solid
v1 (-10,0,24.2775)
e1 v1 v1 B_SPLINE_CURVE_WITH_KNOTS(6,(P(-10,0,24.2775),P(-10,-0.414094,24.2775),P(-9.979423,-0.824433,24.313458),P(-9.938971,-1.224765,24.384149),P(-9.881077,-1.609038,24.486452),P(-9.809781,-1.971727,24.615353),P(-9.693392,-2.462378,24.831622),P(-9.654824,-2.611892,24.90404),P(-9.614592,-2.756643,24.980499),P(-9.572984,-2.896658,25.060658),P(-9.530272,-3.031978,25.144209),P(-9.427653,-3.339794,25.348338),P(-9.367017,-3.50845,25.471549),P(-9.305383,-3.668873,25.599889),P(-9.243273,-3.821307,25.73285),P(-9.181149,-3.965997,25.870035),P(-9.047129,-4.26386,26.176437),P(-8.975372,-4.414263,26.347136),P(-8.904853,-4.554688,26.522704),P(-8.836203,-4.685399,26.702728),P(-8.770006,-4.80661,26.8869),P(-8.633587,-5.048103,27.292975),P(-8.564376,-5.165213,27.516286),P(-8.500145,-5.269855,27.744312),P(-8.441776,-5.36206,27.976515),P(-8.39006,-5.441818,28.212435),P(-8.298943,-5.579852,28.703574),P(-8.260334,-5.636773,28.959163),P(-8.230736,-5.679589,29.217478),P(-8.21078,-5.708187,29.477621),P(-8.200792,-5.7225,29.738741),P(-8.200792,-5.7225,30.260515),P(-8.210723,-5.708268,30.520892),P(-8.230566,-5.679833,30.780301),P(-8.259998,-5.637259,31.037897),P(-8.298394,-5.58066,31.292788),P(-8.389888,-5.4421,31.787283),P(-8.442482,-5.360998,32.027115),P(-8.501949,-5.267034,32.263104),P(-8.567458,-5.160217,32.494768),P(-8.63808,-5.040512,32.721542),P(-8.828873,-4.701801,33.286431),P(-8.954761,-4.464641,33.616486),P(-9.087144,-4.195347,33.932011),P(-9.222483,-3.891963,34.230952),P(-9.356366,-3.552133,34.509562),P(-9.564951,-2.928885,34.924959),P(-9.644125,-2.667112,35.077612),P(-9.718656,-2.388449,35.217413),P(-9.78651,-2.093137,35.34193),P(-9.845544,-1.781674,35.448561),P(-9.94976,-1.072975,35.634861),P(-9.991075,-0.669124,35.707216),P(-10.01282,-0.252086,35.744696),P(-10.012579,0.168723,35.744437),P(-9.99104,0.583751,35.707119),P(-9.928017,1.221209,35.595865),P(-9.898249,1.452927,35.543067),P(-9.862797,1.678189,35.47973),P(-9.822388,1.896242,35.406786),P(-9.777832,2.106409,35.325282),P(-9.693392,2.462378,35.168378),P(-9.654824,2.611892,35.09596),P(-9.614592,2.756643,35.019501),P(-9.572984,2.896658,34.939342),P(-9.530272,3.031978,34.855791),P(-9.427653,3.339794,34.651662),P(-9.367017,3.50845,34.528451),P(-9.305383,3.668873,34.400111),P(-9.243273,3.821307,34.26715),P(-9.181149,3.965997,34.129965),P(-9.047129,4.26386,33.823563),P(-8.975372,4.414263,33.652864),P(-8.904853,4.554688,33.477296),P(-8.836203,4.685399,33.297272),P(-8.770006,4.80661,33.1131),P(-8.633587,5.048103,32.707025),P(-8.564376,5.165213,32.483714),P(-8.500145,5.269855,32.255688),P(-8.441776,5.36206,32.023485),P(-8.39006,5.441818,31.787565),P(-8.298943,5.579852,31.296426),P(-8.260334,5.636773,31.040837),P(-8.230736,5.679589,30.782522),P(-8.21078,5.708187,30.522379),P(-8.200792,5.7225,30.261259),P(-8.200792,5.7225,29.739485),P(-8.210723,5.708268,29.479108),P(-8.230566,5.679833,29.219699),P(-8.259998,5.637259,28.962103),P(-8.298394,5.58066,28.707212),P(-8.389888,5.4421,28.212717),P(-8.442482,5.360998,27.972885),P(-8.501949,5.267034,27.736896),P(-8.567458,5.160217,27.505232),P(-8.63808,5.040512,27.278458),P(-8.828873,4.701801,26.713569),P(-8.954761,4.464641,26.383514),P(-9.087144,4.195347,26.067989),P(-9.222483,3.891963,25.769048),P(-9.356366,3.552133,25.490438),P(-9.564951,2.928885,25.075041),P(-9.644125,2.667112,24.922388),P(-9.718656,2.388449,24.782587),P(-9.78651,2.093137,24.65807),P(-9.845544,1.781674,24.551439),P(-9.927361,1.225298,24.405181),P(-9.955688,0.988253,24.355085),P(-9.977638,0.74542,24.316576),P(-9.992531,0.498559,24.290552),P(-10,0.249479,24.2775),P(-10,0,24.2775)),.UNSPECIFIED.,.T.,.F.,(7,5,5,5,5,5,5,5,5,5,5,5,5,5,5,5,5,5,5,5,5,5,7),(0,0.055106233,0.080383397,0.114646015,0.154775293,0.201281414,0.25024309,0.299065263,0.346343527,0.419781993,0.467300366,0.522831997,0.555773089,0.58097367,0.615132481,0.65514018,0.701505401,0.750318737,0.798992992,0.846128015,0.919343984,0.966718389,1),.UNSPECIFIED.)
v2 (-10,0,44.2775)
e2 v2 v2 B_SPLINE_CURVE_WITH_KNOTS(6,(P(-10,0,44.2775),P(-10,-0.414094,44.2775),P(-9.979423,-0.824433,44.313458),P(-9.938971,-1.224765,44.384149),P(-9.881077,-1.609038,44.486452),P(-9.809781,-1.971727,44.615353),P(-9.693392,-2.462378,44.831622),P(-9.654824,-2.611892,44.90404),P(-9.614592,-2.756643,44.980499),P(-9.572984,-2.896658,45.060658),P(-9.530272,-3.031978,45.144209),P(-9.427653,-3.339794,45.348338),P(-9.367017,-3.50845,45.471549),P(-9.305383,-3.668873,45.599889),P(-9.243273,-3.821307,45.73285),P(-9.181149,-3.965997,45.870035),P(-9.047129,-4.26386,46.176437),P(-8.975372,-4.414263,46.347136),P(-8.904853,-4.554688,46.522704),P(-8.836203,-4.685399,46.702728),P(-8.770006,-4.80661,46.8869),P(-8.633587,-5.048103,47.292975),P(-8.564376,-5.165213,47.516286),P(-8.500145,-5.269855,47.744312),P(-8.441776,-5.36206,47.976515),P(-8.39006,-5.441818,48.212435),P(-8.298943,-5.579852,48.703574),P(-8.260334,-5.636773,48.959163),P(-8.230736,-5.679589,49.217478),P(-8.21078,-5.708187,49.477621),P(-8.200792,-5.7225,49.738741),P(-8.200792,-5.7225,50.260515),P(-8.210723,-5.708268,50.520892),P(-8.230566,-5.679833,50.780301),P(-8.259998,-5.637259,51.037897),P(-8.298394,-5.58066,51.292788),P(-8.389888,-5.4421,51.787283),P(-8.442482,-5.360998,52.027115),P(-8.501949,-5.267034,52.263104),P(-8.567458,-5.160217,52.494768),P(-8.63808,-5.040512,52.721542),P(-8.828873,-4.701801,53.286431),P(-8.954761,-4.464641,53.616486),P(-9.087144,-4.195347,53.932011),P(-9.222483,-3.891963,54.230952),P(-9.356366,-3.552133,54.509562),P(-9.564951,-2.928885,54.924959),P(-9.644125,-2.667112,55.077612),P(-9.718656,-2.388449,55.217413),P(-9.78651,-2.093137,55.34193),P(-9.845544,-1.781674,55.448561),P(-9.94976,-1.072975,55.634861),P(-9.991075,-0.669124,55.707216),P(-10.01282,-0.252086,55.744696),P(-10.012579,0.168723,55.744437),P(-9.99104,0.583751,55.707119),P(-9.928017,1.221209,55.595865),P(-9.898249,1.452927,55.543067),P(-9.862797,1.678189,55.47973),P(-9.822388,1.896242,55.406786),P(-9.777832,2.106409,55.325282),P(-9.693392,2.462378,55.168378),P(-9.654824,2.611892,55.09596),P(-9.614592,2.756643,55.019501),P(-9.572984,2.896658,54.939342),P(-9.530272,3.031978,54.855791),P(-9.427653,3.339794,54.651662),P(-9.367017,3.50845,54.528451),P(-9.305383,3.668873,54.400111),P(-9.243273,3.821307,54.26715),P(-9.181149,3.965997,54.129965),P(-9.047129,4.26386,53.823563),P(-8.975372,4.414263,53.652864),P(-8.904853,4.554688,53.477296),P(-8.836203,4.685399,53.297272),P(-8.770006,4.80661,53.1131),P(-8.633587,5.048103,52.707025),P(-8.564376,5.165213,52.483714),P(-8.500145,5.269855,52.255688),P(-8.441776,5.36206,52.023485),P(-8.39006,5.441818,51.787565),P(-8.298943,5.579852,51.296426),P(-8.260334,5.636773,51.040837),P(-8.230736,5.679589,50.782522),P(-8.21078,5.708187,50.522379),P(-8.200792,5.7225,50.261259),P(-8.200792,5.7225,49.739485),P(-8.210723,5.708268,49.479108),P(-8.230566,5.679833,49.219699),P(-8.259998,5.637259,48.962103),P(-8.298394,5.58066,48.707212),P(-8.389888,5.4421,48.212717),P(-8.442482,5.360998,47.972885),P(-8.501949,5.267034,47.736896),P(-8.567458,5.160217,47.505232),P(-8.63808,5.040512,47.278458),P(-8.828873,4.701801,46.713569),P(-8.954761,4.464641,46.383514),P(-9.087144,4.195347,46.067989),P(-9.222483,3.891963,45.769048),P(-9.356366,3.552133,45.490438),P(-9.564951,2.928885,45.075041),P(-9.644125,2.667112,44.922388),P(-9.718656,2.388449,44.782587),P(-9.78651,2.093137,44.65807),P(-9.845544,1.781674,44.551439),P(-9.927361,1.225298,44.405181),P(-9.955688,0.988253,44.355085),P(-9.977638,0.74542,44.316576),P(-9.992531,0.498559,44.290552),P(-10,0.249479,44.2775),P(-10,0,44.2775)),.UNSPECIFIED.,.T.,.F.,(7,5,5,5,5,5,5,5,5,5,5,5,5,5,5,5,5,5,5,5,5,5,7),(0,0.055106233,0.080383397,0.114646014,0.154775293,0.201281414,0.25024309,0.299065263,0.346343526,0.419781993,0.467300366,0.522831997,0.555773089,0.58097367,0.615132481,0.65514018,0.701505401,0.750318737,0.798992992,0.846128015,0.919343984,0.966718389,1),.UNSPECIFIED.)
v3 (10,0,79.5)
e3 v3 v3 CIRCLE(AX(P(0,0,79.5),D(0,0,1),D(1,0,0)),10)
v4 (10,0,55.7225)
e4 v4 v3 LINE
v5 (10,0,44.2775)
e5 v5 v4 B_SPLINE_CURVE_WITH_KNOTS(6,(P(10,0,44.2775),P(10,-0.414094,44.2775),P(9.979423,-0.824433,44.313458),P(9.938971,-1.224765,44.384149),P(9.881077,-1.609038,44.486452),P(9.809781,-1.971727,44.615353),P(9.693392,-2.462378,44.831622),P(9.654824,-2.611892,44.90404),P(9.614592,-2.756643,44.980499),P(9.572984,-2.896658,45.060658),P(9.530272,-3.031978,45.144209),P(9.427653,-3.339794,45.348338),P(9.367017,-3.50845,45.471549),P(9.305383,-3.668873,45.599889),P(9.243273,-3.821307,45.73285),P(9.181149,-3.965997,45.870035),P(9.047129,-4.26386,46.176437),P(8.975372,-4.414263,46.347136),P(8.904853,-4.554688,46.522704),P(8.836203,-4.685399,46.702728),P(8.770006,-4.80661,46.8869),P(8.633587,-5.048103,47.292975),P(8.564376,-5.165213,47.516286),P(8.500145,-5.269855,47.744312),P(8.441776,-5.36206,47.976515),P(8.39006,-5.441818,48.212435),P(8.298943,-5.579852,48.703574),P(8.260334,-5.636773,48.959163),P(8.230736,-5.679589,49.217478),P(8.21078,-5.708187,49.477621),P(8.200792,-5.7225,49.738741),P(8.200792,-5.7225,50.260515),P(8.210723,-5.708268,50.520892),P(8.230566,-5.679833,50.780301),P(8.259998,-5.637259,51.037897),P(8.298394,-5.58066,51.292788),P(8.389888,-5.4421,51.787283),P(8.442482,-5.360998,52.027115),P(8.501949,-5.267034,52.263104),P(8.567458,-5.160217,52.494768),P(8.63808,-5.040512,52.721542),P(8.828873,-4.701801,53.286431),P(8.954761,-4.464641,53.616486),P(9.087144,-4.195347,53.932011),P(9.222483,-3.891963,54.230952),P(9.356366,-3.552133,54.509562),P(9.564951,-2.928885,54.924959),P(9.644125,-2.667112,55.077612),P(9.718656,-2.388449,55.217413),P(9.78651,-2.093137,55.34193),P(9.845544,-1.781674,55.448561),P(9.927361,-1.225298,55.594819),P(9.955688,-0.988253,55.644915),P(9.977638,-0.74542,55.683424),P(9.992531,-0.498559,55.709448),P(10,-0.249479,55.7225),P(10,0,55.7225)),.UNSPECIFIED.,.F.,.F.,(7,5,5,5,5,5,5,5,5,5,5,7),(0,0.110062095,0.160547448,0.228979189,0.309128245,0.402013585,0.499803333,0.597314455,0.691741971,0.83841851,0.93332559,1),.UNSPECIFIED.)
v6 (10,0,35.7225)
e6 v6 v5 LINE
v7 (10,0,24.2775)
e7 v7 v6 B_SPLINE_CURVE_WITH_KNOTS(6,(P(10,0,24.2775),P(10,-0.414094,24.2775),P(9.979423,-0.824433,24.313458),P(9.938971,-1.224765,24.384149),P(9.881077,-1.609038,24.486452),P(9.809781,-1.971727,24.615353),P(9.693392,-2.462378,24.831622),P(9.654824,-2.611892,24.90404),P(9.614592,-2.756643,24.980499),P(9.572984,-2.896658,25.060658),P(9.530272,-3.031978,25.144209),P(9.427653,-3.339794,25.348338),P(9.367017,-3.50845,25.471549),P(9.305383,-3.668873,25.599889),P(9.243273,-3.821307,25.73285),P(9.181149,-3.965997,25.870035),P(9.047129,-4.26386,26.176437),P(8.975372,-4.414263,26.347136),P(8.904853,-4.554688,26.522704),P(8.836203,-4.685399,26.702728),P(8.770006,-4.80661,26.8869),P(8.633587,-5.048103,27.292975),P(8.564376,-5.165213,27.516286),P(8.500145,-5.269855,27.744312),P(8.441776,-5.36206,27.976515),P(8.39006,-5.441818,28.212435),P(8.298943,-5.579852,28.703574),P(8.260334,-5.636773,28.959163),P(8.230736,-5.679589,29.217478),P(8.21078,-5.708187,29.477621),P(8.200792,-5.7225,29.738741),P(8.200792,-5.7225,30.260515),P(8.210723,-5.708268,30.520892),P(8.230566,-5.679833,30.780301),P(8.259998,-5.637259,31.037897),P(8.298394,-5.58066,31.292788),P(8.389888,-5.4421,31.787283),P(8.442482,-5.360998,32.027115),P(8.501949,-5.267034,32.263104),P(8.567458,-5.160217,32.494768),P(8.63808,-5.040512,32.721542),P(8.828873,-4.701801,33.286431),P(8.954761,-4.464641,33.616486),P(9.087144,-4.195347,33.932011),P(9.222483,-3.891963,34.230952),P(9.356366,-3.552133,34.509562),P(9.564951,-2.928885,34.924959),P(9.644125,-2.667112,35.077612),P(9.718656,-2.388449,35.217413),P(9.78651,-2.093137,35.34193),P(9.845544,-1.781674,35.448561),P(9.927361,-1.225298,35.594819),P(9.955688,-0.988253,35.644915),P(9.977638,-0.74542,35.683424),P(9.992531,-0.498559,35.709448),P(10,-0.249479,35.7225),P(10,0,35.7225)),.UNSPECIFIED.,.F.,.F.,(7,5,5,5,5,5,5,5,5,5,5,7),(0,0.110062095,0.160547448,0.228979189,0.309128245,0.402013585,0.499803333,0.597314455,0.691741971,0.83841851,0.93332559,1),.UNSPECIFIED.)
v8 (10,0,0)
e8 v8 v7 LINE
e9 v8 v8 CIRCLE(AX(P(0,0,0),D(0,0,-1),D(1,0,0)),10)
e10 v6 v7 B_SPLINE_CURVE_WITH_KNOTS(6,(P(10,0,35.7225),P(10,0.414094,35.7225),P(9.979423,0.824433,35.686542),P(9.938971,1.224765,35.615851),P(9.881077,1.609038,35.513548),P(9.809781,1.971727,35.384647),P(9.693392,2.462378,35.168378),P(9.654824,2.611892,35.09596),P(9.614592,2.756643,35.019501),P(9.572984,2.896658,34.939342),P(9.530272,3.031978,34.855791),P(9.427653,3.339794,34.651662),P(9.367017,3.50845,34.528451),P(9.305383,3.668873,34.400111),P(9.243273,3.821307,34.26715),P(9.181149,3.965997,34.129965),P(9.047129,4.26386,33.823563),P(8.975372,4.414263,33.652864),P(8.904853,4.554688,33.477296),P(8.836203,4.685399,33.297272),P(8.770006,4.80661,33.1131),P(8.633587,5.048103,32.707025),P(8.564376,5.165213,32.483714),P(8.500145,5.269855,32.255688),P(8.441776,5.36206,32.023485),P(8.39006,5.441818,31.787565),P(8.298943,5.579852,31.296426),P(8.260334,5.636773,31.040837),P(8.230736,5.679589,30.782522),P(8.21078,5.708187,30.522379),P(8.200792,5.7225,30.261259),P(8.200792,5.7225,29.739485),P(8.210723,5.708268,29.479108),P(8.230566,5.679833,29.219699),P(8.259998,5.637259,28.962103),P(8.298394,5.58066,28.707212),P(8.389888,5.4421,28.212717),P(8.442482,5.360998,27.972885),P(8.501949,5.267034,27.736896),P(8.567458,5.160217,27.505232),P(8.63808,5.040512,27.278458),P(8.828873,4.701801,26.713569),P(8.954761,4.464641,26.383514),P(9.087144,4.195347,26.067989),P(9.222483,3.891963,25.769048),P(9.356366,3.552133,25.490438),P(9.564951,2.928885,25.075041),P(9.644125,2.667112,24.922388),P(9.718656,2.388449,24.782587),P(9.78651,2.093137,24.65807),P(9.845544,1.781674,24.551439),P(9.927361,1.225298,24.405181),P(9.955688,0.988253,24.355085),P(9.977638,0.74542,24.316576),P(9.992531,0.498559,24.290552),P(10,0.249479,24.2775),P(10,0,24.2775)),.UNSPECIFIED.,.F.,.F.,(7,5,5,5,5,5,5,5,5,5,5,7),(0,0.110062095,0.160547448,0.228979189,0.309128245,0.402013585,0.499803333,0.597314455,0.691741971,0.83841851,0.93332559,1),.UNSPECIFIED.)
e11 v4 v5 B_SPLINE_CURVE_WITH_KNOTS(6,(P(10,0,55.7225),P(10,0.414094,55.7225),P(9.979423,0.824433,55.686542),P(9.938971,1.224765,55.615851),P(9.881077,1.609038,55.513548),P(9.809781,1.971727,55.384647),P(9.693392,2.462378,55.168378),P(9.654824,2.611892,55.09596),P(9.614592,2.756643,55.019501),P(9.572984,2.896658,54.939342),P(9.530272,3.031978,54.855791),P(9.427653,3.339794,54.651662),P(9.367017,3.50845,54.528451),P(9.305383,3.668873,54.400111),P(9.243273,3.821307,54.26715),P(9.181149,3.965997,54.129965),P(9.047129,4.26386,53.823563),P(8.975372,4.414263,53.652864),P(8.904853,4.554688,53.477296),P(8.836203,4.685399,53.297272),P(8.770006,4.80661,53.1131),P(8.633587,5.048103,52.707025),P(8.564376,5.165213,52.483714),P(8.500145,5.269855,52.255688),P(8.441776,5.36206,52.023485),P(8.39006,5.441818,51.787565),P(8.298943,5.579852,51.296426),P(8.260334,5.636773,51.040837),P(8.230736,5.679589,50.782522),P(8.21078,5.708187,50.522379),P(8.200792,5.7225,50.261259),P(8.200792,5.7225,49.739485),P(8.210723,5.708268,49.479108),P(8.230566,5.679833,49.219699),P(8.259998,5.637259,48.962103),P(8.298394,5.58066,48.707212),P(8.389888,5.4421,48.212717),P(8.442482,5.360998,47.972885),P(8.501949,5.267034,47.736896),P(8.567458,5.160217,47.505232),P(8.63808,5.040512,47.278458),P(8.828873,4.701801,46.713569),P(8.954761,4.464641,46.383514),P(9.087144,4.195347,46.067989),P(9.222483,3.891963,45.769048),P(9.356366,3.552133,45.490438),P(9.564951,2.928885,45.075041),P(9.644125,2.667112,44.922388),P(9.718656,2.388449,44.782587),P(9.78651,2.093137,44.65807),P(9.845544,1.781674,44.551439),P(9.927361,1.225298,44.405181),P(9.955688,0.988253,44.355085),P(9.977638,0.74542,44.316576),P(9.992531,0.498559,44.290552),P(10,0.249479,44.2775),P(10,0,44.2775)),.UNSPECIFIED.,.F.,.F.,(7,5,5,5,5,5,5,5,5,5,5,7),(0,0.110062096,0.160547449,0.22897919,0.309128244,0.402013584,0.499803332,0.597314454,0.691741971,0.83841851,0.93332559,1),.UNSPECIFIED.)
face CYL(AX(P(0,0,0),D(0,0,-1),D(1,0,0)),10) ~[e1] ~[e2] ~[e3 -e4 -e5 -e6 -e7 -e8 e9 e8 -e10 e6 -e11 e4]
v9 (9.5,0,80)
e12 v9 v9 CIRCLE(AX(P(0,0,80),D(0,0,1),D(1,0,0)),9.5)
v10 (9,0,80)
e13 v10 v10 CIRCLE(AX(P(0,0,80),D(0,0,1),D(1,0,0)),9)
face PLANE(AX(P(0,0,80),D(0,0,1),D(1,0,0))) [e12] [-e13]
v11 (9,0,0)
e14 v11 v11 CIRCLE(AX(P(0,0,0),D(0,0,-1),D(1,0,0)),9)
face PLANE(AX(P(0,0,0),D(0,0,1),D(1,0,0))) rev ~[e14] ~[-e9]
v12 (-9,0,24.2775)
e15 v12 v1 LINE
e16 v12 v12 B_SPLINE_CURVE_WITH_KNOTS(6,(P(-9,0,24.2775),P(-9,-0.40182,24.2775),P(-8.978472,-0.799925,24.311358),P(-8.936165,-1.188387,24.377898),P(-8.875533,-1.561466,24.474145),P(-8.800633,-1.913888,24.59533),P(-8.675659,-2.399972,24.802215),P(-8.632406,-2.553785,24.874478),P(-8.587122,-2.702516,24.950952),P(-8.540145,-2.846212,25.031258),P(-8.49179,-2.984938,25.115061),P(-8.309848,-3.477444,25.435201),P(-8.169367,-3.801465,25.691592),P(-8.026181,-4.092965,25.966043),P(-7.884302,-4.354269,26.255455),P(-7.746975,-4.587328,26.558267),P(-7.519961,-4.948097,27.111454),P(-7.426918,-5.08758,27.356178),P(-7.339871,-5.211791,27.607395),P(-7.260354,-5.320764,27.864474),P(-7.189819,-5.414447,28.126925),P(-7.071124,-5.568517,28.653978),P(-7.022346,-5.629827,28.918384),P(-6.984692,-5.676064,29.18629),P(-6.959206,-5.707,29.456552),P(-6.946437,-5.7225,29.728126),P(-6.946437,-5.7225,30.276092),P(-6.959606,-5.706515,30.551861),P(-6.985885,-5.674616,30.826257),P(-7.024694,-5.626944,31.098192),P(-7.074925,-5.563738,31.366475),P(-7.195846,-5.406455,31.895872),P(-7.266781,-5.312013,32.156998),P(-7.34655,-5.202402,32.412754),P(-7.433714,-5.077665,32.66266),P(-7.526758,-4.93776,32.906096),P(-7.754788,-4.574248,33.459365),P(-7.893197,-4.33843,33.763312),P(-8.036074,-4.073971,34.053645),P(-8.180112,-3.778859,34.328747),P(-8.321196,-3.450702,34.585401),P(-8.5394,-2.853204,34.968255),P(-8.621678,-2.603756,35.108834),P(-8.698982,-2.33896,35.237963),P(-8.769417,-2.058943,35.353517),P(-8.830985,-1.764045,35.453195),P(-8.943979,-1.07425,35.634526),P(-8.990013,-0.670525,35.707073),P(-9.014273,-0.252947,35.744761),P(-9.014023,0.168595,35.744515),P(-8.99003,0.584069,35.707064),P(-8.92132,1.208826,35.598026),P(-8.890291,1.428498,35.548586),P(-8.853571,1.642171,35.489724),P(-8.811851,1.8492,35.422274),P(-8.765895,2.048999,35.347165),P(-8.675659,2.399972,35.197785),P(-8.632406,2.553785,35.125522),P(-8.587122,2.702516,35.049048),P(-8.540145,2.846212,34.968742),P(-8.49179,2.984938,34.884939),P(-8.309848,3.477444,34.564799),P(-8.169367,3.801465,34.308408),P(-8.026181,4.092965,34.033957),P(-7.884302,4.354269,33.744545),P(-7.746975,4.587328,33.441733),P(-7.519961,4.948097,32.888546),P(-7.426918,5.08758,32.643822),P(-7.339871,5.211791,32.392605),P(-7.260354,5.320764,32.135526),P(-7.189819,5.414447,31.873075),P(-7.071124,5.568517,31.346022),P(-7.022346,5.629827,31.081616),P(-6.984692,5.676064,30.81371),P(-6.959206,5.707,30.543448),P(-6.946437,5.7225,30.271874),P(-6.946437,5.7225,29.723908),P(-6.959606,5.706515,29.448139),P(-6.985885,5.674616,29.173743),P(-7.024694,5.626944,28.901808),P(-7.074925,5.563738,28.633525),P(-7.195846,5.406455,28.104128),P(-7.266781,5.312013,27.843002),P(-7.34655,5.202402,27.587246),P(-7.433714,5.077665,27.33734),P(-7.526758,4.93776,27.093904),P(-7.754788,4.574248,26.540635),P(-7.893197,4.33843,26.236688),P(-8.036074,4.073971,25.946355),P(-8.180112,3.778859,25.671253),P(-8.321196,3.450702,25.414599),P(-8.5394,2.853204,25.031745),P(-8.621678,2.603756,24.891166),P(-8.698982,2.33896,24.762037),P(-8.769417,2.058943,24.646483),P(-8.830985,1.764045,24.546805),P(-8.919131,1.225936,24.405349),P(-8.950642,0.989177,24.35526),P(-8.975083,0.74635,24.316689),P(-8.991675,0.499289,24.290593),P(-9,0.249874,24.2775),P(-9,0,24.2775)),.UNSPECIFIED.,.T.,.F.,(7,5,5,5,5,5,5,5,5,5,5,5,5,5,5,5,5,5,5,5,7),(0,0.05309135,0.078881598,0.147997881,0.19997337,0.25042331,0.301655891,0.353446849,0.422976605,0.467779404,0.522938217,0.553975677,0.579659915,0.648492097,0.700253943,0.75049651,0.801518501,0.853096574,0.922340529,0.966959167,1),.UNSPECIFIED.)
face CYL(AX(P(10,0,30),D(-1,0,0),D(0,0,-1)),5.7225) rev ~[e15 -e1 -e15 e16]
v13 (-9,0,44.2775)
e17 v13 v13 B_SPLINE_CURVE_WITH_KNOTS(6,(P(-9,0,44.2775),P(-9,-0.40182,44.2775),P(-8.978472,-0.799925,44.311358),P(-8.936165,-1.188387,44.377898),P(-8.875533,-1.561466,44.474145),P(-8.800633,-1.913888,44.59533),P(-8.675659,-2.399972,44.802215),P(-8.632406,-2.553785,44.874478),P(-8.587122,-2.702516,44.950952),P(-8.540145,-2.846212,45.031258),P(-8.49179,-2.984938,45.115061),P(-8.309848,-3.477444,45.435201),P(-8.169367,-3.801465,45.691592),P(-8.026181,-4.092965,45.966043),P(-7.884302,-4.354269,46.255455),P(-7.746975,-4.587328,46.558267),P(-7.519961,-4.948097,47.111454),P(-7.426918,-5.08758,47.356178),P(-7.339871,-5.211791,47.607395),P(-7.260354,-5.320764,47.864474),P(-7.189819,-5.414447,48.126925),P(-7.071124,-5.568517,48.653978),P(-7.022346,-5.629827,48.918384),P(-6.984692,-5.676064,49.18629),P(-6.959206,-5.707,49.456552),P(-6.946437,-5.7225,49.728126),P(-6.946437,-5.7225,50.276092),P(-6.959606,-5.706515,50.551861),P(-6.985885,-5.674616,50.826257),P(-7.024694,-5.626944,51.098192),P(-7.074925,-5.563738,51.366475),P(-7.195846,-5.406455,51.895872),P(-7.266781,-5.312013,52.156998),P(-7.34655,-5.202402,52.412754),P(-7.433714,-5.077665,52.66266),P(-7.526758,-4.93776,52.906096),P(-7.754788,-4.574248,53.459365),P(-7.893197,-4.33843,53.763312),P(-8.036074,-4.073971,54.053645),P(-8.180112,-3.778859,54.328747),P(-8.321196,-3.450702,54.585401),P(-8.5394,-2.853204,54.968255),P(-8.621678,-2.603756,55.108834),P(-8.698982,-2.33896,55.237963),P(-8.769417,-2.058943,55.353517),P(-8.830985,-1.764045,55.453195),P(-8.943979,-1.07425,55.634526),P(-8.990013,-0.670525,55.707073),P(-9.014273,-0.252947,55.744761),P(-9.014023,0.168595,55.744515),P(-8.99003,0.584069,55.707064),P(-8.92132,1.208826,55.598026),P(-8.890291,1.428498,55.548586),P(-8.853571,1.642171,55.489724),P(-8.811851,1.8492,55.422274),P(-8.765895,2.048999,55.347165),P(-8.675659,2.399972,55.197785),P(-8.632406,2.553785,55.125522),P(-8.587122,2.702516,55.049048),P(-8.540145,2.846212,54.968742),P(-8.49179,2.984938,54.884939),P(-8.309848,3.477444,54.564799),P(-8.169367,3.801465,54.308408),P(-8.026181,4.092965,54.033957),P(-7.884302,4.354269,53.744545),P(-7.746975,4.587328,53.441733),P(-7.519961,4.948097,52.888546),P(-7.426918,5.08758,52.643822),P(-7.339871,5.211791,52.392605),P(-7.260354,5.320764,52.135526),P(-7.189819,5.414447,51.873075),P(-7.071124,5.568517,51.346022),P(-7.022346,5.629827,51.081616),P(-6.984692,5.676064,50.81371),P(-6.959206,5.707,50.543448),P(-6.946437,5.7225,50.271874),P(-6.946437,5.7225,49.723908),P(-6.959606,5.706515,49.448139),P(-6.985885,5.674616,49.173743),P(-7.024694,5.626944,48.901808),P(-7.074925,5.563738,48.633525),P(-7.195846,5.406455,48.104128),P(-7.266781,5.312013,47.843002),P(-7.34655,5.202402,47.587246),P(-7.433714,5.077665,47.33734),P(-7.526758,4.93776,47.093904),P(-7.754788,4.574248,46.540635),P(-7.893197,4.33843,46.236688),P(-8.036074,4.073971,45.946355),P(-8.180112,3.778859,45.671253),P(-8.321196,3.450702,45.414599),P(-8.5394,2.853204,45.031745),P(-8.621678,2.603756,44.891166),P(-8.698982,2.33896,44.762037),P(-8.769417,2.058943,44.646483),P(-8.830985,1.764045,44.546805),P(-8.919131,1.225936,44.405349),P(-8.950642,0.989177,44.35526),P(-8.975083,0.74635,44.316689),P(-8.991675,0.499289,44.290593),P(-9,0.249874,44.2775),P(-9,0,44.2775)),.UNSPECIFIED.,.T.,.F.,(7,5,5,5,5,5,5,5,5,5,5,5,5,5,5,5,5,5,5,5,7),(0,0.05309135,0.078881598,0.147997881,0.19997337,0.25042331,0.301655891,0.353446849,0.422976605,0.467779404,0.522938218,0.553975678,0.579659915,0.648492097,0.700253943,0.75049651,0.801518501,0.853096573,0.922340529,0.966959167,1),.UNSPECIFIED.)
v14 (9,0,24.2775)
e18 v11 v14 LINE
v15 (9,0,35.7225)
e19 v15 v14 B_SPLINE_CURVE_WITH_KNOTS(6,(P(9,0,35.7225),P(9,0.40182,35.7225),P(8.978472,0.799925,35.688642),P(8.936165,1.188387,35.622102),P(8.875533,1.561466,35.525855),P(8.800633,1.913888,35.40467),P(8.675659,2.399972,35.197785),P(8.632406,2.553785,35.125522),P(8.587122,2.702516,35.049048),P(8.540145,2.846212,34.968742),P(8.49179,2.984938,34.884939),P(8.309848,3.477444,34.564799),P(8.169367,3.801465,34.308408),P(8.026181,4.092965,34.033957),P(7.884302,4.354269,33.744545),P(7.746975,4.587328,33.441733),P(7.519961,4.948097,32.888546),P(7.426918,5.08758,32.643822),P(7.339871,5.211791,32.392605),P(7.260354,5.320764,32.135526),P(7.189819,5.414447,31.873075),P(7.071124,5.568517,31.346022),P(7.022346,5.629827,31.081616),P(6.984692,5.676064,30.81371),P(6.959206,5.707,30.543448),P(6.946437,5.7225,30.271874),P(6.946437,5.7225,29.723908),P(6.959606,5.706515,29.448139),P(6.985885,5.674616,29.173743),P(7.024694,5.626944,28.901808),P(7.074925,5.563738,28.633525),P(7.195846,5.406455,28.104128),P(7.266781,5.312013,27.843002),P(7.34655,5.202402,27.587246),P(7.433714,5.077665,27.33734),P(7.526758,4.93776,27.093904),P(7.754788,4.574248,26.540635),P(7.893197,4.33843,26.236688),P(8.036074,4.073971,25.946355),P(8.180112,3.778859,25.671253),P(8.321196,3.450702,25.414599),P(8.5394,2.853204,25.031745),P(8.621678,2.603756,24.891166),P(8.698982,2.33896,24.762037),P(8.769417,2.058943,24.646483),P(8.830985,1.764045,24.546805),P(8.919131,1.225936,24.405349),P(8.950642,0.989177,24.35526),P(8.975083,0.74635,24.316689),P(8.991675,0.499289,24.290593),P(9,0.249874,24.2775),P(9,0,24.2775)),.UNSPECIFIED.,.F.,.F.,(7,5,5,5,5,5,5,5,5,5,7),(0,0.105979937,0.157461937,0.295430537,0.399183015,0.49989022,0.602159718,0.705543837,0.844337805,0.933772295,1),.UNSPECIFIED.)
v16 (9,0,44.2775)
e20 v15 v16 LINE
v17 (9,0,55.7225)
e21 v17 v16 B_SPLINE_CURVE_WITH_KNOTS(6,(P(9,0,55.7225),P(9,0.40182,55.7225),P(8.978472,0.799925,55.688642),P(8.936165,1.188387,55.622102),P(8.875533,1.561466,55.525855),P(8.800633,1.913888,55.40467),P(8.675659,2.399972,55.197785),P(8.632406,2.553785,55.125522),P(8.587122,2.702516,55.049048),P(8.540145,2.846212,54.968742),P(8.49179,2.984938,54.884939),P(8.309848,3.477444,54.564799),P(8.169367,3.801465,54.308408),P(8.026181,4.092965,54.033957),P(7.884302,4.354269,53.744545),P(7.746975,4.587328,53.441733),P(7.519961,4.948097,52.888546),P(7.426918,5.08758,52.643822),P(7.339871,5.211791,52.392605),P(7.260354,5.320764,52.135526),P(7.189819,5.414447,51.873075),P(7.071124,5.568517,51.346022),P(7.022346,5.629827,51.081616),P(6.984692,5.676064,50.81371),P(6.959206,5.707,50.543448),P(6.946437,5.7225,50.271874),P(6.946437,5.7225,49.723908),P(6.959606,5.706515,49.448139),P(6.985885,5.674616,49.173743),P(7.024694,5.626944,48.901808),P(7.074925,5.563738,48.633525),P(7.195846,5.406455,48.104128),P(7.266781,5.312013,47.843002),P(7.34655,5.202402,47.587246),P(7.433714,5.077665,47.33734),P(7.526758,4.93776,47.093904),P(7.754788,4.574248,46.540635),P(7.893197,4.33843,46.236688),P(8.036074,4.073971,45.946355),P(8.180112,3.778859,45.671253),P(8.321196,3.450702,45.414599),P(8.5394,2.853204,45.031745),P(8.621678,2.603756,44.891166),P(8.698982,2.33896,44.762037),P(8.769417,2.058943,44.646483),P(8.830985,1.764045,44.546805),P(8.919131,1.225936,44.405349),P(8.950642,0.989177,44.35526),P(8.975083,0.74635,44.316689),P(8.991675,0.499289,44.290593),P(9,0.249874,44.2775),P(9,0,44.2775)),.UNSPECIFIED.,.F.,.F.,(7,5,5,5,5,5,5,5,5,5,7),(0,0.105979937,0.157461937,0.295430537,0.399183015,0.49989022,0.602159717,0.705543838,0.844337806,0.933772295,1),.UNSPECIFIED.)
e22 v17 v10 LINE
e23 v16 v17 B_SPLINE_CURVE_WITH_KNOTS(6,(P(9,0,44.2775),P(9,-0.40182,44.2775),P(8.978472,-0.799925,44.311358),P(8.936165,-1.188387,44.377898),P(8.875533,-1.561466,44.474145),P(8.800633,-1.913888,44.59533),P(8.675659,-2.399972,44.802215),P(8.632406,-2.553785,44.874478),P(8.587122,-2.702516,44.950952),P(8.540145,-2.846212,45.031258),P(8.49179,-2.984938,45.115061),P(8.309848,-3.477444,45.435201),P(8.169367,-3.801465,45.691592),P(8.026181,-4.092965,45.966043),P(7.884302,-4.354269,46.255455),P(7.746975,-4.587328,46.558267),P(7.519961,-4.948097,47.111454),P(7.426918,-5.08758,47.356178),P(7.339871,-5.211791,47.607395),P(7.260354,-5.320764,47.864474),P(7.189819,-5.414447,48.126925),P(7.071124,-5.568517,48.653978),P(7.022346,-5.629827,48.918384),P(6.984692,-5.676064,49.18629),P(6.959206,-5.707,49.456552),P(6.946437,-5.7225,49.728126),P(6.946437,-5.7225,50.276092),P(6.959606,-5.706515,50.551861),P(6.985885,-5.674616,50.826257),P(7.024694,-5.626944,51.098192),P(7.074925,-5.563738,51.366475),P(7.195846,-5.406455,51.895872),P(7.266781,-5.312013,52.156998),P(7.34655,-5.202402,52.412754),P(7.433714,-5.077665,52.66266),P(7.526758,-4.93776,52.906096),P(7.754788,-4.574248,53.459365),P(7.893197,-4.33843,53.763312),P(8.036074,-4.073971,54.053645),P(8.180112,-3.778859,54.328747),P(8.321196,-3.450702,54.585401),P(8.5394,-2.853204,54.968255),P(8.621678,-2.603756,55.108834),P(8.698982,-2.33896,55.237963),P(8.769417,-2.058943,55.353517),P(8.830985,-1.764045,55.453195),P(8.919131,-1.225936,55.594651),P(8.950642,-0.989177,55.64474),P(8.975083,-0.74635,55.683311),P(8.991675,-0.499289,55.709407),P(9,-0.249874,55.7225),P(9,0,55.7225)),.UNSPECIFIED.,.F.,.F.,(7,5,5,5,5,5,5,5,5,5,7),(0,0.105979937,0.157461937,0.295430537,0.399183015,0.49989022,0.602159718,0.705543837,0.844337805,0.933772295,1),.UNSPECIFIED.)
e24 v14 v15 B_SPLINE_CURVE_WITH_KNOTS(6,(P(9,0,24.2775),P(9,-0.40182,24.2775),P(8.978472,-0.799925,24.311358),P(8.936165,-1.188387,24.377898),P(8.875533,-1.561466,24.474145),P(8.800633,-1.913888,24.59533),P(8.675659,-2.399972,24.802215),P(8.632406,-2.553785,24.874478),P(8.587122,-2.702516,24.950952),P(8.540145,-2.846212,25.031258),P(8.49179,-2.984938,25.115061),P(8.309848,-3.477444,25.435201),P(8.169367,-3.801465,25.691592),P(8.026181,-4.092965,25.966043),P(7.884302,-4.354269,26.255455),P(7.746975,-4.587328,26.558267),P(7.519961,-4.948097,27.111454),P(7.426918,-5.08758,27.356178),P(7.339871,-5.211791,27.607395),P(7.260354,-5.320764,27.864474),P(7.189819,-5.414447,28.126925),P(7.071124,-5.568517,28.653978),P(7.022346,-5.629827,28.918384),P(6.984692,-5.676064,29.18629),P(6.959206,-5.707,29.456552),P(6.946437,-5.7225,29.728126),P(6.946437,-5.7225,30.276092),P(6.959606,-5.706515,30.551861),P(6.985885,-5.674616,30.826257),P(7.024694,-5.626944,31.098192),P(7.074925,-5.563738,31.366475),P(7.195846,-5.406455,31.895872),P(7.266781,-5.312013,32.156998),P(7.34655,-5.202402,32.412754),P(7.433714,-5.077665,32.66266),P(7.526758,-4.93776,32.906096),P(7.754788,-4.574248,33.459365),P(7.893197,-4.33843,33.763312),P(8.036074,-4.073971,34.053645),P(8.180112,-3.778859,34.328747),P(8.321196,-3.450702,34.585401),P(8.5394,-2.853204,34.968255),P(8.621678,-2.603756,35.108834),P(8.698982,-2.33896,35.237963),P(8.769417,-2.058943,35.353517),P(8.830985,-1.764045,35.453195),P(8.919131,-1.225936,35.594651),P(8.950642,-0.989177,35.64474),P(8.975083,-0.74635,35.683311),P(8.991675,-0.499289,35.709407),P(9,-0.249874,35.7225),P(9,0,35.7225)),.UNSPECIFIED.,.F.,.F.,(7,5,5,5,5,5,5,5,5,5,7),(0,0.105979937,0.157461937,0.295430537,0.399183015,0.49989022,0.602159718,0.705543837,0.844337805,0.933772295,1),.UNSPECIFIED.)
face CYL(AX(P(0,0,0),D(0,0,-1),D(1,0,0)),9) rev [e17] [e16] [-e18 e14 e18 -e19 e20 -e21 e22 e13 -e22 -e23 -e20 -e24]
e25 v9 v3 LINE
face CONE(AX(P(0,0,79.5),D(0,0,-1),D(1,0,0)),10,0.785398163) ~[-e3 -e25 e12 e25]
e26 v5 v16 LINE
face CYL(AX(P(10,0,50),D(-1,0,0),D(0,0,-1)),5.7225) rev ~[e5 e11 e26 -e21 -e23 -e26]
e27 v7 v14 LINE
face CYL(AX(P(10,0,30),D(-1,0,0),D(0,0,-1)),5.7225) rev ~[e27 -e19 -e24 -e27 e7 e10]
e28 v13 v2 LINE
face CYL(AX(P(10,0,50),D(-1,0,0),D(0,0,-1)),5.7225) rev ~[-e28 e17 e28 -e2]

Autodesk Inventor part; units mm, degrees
ref_plane "XZ Plane" through (0, 0, 0) normal (0, 1, 0) x (-1, 0, 0)
ref_plane "XY Plane" through (0, 0, 0) normal (0, 0, 1) x (1, 0, 0)
sketch "Skizze1" plane through (0, 0, 0) normal (0, 0, 1) x (1, 0, 0)
  line L0 (-14, 0) -> (14, 0) projected
  line L1 (0, -14) -> (0, 14) projected
  circle A0 centre (0, 0) radius 10
  circle A1 centre (0, 0) radius 9
  dimension "d0" = 20
  dimension "d1" = 18
extrude "Extrusion1" add sketch "Skizze1" along normal blind 80 contours A1 L1 A0 L0 | L0 A0 L1 A1 | A1 L0 A0 L1 | L1 A0 L0 A1
thread "Gewinde1" size "M20x2.5" class "6g" standard "ANSI Metric M Profile" length 15
thread "Gewinde2" size "M20x2.5" class "6g" standard "ANSI Metric M Profile" length 15
chamfer "Fase1" distance 0.5 angle 45 1 edges at (-10, 0, 80)
ref_plane "Arbeitsebene1" through (10, 0, 0) normal (1, 0, 0) x (0, 1, 0)
sketch "Skizze2" plane through (10, 0, 0) normal (1, 0, 0) x (0, 1, 0)
  line L0 (-9.5, 80) -> (9.5, 80) projected
  point P0 (0, 0)
  point P1 (0, 50)
  point P2 (0, 30)
  dimension "d12" = 30
  dimension "d13" = 30
hole "Bohrung1" at (10, 0, 50) at (10, 0, 30) direction (-1, 0, 0) diameter 11.445 end through all thread size "G13.157x1.337" designation "G 1/4" standard "ISO Pipe Threads"
properties part number "Wasserverteiler1"
